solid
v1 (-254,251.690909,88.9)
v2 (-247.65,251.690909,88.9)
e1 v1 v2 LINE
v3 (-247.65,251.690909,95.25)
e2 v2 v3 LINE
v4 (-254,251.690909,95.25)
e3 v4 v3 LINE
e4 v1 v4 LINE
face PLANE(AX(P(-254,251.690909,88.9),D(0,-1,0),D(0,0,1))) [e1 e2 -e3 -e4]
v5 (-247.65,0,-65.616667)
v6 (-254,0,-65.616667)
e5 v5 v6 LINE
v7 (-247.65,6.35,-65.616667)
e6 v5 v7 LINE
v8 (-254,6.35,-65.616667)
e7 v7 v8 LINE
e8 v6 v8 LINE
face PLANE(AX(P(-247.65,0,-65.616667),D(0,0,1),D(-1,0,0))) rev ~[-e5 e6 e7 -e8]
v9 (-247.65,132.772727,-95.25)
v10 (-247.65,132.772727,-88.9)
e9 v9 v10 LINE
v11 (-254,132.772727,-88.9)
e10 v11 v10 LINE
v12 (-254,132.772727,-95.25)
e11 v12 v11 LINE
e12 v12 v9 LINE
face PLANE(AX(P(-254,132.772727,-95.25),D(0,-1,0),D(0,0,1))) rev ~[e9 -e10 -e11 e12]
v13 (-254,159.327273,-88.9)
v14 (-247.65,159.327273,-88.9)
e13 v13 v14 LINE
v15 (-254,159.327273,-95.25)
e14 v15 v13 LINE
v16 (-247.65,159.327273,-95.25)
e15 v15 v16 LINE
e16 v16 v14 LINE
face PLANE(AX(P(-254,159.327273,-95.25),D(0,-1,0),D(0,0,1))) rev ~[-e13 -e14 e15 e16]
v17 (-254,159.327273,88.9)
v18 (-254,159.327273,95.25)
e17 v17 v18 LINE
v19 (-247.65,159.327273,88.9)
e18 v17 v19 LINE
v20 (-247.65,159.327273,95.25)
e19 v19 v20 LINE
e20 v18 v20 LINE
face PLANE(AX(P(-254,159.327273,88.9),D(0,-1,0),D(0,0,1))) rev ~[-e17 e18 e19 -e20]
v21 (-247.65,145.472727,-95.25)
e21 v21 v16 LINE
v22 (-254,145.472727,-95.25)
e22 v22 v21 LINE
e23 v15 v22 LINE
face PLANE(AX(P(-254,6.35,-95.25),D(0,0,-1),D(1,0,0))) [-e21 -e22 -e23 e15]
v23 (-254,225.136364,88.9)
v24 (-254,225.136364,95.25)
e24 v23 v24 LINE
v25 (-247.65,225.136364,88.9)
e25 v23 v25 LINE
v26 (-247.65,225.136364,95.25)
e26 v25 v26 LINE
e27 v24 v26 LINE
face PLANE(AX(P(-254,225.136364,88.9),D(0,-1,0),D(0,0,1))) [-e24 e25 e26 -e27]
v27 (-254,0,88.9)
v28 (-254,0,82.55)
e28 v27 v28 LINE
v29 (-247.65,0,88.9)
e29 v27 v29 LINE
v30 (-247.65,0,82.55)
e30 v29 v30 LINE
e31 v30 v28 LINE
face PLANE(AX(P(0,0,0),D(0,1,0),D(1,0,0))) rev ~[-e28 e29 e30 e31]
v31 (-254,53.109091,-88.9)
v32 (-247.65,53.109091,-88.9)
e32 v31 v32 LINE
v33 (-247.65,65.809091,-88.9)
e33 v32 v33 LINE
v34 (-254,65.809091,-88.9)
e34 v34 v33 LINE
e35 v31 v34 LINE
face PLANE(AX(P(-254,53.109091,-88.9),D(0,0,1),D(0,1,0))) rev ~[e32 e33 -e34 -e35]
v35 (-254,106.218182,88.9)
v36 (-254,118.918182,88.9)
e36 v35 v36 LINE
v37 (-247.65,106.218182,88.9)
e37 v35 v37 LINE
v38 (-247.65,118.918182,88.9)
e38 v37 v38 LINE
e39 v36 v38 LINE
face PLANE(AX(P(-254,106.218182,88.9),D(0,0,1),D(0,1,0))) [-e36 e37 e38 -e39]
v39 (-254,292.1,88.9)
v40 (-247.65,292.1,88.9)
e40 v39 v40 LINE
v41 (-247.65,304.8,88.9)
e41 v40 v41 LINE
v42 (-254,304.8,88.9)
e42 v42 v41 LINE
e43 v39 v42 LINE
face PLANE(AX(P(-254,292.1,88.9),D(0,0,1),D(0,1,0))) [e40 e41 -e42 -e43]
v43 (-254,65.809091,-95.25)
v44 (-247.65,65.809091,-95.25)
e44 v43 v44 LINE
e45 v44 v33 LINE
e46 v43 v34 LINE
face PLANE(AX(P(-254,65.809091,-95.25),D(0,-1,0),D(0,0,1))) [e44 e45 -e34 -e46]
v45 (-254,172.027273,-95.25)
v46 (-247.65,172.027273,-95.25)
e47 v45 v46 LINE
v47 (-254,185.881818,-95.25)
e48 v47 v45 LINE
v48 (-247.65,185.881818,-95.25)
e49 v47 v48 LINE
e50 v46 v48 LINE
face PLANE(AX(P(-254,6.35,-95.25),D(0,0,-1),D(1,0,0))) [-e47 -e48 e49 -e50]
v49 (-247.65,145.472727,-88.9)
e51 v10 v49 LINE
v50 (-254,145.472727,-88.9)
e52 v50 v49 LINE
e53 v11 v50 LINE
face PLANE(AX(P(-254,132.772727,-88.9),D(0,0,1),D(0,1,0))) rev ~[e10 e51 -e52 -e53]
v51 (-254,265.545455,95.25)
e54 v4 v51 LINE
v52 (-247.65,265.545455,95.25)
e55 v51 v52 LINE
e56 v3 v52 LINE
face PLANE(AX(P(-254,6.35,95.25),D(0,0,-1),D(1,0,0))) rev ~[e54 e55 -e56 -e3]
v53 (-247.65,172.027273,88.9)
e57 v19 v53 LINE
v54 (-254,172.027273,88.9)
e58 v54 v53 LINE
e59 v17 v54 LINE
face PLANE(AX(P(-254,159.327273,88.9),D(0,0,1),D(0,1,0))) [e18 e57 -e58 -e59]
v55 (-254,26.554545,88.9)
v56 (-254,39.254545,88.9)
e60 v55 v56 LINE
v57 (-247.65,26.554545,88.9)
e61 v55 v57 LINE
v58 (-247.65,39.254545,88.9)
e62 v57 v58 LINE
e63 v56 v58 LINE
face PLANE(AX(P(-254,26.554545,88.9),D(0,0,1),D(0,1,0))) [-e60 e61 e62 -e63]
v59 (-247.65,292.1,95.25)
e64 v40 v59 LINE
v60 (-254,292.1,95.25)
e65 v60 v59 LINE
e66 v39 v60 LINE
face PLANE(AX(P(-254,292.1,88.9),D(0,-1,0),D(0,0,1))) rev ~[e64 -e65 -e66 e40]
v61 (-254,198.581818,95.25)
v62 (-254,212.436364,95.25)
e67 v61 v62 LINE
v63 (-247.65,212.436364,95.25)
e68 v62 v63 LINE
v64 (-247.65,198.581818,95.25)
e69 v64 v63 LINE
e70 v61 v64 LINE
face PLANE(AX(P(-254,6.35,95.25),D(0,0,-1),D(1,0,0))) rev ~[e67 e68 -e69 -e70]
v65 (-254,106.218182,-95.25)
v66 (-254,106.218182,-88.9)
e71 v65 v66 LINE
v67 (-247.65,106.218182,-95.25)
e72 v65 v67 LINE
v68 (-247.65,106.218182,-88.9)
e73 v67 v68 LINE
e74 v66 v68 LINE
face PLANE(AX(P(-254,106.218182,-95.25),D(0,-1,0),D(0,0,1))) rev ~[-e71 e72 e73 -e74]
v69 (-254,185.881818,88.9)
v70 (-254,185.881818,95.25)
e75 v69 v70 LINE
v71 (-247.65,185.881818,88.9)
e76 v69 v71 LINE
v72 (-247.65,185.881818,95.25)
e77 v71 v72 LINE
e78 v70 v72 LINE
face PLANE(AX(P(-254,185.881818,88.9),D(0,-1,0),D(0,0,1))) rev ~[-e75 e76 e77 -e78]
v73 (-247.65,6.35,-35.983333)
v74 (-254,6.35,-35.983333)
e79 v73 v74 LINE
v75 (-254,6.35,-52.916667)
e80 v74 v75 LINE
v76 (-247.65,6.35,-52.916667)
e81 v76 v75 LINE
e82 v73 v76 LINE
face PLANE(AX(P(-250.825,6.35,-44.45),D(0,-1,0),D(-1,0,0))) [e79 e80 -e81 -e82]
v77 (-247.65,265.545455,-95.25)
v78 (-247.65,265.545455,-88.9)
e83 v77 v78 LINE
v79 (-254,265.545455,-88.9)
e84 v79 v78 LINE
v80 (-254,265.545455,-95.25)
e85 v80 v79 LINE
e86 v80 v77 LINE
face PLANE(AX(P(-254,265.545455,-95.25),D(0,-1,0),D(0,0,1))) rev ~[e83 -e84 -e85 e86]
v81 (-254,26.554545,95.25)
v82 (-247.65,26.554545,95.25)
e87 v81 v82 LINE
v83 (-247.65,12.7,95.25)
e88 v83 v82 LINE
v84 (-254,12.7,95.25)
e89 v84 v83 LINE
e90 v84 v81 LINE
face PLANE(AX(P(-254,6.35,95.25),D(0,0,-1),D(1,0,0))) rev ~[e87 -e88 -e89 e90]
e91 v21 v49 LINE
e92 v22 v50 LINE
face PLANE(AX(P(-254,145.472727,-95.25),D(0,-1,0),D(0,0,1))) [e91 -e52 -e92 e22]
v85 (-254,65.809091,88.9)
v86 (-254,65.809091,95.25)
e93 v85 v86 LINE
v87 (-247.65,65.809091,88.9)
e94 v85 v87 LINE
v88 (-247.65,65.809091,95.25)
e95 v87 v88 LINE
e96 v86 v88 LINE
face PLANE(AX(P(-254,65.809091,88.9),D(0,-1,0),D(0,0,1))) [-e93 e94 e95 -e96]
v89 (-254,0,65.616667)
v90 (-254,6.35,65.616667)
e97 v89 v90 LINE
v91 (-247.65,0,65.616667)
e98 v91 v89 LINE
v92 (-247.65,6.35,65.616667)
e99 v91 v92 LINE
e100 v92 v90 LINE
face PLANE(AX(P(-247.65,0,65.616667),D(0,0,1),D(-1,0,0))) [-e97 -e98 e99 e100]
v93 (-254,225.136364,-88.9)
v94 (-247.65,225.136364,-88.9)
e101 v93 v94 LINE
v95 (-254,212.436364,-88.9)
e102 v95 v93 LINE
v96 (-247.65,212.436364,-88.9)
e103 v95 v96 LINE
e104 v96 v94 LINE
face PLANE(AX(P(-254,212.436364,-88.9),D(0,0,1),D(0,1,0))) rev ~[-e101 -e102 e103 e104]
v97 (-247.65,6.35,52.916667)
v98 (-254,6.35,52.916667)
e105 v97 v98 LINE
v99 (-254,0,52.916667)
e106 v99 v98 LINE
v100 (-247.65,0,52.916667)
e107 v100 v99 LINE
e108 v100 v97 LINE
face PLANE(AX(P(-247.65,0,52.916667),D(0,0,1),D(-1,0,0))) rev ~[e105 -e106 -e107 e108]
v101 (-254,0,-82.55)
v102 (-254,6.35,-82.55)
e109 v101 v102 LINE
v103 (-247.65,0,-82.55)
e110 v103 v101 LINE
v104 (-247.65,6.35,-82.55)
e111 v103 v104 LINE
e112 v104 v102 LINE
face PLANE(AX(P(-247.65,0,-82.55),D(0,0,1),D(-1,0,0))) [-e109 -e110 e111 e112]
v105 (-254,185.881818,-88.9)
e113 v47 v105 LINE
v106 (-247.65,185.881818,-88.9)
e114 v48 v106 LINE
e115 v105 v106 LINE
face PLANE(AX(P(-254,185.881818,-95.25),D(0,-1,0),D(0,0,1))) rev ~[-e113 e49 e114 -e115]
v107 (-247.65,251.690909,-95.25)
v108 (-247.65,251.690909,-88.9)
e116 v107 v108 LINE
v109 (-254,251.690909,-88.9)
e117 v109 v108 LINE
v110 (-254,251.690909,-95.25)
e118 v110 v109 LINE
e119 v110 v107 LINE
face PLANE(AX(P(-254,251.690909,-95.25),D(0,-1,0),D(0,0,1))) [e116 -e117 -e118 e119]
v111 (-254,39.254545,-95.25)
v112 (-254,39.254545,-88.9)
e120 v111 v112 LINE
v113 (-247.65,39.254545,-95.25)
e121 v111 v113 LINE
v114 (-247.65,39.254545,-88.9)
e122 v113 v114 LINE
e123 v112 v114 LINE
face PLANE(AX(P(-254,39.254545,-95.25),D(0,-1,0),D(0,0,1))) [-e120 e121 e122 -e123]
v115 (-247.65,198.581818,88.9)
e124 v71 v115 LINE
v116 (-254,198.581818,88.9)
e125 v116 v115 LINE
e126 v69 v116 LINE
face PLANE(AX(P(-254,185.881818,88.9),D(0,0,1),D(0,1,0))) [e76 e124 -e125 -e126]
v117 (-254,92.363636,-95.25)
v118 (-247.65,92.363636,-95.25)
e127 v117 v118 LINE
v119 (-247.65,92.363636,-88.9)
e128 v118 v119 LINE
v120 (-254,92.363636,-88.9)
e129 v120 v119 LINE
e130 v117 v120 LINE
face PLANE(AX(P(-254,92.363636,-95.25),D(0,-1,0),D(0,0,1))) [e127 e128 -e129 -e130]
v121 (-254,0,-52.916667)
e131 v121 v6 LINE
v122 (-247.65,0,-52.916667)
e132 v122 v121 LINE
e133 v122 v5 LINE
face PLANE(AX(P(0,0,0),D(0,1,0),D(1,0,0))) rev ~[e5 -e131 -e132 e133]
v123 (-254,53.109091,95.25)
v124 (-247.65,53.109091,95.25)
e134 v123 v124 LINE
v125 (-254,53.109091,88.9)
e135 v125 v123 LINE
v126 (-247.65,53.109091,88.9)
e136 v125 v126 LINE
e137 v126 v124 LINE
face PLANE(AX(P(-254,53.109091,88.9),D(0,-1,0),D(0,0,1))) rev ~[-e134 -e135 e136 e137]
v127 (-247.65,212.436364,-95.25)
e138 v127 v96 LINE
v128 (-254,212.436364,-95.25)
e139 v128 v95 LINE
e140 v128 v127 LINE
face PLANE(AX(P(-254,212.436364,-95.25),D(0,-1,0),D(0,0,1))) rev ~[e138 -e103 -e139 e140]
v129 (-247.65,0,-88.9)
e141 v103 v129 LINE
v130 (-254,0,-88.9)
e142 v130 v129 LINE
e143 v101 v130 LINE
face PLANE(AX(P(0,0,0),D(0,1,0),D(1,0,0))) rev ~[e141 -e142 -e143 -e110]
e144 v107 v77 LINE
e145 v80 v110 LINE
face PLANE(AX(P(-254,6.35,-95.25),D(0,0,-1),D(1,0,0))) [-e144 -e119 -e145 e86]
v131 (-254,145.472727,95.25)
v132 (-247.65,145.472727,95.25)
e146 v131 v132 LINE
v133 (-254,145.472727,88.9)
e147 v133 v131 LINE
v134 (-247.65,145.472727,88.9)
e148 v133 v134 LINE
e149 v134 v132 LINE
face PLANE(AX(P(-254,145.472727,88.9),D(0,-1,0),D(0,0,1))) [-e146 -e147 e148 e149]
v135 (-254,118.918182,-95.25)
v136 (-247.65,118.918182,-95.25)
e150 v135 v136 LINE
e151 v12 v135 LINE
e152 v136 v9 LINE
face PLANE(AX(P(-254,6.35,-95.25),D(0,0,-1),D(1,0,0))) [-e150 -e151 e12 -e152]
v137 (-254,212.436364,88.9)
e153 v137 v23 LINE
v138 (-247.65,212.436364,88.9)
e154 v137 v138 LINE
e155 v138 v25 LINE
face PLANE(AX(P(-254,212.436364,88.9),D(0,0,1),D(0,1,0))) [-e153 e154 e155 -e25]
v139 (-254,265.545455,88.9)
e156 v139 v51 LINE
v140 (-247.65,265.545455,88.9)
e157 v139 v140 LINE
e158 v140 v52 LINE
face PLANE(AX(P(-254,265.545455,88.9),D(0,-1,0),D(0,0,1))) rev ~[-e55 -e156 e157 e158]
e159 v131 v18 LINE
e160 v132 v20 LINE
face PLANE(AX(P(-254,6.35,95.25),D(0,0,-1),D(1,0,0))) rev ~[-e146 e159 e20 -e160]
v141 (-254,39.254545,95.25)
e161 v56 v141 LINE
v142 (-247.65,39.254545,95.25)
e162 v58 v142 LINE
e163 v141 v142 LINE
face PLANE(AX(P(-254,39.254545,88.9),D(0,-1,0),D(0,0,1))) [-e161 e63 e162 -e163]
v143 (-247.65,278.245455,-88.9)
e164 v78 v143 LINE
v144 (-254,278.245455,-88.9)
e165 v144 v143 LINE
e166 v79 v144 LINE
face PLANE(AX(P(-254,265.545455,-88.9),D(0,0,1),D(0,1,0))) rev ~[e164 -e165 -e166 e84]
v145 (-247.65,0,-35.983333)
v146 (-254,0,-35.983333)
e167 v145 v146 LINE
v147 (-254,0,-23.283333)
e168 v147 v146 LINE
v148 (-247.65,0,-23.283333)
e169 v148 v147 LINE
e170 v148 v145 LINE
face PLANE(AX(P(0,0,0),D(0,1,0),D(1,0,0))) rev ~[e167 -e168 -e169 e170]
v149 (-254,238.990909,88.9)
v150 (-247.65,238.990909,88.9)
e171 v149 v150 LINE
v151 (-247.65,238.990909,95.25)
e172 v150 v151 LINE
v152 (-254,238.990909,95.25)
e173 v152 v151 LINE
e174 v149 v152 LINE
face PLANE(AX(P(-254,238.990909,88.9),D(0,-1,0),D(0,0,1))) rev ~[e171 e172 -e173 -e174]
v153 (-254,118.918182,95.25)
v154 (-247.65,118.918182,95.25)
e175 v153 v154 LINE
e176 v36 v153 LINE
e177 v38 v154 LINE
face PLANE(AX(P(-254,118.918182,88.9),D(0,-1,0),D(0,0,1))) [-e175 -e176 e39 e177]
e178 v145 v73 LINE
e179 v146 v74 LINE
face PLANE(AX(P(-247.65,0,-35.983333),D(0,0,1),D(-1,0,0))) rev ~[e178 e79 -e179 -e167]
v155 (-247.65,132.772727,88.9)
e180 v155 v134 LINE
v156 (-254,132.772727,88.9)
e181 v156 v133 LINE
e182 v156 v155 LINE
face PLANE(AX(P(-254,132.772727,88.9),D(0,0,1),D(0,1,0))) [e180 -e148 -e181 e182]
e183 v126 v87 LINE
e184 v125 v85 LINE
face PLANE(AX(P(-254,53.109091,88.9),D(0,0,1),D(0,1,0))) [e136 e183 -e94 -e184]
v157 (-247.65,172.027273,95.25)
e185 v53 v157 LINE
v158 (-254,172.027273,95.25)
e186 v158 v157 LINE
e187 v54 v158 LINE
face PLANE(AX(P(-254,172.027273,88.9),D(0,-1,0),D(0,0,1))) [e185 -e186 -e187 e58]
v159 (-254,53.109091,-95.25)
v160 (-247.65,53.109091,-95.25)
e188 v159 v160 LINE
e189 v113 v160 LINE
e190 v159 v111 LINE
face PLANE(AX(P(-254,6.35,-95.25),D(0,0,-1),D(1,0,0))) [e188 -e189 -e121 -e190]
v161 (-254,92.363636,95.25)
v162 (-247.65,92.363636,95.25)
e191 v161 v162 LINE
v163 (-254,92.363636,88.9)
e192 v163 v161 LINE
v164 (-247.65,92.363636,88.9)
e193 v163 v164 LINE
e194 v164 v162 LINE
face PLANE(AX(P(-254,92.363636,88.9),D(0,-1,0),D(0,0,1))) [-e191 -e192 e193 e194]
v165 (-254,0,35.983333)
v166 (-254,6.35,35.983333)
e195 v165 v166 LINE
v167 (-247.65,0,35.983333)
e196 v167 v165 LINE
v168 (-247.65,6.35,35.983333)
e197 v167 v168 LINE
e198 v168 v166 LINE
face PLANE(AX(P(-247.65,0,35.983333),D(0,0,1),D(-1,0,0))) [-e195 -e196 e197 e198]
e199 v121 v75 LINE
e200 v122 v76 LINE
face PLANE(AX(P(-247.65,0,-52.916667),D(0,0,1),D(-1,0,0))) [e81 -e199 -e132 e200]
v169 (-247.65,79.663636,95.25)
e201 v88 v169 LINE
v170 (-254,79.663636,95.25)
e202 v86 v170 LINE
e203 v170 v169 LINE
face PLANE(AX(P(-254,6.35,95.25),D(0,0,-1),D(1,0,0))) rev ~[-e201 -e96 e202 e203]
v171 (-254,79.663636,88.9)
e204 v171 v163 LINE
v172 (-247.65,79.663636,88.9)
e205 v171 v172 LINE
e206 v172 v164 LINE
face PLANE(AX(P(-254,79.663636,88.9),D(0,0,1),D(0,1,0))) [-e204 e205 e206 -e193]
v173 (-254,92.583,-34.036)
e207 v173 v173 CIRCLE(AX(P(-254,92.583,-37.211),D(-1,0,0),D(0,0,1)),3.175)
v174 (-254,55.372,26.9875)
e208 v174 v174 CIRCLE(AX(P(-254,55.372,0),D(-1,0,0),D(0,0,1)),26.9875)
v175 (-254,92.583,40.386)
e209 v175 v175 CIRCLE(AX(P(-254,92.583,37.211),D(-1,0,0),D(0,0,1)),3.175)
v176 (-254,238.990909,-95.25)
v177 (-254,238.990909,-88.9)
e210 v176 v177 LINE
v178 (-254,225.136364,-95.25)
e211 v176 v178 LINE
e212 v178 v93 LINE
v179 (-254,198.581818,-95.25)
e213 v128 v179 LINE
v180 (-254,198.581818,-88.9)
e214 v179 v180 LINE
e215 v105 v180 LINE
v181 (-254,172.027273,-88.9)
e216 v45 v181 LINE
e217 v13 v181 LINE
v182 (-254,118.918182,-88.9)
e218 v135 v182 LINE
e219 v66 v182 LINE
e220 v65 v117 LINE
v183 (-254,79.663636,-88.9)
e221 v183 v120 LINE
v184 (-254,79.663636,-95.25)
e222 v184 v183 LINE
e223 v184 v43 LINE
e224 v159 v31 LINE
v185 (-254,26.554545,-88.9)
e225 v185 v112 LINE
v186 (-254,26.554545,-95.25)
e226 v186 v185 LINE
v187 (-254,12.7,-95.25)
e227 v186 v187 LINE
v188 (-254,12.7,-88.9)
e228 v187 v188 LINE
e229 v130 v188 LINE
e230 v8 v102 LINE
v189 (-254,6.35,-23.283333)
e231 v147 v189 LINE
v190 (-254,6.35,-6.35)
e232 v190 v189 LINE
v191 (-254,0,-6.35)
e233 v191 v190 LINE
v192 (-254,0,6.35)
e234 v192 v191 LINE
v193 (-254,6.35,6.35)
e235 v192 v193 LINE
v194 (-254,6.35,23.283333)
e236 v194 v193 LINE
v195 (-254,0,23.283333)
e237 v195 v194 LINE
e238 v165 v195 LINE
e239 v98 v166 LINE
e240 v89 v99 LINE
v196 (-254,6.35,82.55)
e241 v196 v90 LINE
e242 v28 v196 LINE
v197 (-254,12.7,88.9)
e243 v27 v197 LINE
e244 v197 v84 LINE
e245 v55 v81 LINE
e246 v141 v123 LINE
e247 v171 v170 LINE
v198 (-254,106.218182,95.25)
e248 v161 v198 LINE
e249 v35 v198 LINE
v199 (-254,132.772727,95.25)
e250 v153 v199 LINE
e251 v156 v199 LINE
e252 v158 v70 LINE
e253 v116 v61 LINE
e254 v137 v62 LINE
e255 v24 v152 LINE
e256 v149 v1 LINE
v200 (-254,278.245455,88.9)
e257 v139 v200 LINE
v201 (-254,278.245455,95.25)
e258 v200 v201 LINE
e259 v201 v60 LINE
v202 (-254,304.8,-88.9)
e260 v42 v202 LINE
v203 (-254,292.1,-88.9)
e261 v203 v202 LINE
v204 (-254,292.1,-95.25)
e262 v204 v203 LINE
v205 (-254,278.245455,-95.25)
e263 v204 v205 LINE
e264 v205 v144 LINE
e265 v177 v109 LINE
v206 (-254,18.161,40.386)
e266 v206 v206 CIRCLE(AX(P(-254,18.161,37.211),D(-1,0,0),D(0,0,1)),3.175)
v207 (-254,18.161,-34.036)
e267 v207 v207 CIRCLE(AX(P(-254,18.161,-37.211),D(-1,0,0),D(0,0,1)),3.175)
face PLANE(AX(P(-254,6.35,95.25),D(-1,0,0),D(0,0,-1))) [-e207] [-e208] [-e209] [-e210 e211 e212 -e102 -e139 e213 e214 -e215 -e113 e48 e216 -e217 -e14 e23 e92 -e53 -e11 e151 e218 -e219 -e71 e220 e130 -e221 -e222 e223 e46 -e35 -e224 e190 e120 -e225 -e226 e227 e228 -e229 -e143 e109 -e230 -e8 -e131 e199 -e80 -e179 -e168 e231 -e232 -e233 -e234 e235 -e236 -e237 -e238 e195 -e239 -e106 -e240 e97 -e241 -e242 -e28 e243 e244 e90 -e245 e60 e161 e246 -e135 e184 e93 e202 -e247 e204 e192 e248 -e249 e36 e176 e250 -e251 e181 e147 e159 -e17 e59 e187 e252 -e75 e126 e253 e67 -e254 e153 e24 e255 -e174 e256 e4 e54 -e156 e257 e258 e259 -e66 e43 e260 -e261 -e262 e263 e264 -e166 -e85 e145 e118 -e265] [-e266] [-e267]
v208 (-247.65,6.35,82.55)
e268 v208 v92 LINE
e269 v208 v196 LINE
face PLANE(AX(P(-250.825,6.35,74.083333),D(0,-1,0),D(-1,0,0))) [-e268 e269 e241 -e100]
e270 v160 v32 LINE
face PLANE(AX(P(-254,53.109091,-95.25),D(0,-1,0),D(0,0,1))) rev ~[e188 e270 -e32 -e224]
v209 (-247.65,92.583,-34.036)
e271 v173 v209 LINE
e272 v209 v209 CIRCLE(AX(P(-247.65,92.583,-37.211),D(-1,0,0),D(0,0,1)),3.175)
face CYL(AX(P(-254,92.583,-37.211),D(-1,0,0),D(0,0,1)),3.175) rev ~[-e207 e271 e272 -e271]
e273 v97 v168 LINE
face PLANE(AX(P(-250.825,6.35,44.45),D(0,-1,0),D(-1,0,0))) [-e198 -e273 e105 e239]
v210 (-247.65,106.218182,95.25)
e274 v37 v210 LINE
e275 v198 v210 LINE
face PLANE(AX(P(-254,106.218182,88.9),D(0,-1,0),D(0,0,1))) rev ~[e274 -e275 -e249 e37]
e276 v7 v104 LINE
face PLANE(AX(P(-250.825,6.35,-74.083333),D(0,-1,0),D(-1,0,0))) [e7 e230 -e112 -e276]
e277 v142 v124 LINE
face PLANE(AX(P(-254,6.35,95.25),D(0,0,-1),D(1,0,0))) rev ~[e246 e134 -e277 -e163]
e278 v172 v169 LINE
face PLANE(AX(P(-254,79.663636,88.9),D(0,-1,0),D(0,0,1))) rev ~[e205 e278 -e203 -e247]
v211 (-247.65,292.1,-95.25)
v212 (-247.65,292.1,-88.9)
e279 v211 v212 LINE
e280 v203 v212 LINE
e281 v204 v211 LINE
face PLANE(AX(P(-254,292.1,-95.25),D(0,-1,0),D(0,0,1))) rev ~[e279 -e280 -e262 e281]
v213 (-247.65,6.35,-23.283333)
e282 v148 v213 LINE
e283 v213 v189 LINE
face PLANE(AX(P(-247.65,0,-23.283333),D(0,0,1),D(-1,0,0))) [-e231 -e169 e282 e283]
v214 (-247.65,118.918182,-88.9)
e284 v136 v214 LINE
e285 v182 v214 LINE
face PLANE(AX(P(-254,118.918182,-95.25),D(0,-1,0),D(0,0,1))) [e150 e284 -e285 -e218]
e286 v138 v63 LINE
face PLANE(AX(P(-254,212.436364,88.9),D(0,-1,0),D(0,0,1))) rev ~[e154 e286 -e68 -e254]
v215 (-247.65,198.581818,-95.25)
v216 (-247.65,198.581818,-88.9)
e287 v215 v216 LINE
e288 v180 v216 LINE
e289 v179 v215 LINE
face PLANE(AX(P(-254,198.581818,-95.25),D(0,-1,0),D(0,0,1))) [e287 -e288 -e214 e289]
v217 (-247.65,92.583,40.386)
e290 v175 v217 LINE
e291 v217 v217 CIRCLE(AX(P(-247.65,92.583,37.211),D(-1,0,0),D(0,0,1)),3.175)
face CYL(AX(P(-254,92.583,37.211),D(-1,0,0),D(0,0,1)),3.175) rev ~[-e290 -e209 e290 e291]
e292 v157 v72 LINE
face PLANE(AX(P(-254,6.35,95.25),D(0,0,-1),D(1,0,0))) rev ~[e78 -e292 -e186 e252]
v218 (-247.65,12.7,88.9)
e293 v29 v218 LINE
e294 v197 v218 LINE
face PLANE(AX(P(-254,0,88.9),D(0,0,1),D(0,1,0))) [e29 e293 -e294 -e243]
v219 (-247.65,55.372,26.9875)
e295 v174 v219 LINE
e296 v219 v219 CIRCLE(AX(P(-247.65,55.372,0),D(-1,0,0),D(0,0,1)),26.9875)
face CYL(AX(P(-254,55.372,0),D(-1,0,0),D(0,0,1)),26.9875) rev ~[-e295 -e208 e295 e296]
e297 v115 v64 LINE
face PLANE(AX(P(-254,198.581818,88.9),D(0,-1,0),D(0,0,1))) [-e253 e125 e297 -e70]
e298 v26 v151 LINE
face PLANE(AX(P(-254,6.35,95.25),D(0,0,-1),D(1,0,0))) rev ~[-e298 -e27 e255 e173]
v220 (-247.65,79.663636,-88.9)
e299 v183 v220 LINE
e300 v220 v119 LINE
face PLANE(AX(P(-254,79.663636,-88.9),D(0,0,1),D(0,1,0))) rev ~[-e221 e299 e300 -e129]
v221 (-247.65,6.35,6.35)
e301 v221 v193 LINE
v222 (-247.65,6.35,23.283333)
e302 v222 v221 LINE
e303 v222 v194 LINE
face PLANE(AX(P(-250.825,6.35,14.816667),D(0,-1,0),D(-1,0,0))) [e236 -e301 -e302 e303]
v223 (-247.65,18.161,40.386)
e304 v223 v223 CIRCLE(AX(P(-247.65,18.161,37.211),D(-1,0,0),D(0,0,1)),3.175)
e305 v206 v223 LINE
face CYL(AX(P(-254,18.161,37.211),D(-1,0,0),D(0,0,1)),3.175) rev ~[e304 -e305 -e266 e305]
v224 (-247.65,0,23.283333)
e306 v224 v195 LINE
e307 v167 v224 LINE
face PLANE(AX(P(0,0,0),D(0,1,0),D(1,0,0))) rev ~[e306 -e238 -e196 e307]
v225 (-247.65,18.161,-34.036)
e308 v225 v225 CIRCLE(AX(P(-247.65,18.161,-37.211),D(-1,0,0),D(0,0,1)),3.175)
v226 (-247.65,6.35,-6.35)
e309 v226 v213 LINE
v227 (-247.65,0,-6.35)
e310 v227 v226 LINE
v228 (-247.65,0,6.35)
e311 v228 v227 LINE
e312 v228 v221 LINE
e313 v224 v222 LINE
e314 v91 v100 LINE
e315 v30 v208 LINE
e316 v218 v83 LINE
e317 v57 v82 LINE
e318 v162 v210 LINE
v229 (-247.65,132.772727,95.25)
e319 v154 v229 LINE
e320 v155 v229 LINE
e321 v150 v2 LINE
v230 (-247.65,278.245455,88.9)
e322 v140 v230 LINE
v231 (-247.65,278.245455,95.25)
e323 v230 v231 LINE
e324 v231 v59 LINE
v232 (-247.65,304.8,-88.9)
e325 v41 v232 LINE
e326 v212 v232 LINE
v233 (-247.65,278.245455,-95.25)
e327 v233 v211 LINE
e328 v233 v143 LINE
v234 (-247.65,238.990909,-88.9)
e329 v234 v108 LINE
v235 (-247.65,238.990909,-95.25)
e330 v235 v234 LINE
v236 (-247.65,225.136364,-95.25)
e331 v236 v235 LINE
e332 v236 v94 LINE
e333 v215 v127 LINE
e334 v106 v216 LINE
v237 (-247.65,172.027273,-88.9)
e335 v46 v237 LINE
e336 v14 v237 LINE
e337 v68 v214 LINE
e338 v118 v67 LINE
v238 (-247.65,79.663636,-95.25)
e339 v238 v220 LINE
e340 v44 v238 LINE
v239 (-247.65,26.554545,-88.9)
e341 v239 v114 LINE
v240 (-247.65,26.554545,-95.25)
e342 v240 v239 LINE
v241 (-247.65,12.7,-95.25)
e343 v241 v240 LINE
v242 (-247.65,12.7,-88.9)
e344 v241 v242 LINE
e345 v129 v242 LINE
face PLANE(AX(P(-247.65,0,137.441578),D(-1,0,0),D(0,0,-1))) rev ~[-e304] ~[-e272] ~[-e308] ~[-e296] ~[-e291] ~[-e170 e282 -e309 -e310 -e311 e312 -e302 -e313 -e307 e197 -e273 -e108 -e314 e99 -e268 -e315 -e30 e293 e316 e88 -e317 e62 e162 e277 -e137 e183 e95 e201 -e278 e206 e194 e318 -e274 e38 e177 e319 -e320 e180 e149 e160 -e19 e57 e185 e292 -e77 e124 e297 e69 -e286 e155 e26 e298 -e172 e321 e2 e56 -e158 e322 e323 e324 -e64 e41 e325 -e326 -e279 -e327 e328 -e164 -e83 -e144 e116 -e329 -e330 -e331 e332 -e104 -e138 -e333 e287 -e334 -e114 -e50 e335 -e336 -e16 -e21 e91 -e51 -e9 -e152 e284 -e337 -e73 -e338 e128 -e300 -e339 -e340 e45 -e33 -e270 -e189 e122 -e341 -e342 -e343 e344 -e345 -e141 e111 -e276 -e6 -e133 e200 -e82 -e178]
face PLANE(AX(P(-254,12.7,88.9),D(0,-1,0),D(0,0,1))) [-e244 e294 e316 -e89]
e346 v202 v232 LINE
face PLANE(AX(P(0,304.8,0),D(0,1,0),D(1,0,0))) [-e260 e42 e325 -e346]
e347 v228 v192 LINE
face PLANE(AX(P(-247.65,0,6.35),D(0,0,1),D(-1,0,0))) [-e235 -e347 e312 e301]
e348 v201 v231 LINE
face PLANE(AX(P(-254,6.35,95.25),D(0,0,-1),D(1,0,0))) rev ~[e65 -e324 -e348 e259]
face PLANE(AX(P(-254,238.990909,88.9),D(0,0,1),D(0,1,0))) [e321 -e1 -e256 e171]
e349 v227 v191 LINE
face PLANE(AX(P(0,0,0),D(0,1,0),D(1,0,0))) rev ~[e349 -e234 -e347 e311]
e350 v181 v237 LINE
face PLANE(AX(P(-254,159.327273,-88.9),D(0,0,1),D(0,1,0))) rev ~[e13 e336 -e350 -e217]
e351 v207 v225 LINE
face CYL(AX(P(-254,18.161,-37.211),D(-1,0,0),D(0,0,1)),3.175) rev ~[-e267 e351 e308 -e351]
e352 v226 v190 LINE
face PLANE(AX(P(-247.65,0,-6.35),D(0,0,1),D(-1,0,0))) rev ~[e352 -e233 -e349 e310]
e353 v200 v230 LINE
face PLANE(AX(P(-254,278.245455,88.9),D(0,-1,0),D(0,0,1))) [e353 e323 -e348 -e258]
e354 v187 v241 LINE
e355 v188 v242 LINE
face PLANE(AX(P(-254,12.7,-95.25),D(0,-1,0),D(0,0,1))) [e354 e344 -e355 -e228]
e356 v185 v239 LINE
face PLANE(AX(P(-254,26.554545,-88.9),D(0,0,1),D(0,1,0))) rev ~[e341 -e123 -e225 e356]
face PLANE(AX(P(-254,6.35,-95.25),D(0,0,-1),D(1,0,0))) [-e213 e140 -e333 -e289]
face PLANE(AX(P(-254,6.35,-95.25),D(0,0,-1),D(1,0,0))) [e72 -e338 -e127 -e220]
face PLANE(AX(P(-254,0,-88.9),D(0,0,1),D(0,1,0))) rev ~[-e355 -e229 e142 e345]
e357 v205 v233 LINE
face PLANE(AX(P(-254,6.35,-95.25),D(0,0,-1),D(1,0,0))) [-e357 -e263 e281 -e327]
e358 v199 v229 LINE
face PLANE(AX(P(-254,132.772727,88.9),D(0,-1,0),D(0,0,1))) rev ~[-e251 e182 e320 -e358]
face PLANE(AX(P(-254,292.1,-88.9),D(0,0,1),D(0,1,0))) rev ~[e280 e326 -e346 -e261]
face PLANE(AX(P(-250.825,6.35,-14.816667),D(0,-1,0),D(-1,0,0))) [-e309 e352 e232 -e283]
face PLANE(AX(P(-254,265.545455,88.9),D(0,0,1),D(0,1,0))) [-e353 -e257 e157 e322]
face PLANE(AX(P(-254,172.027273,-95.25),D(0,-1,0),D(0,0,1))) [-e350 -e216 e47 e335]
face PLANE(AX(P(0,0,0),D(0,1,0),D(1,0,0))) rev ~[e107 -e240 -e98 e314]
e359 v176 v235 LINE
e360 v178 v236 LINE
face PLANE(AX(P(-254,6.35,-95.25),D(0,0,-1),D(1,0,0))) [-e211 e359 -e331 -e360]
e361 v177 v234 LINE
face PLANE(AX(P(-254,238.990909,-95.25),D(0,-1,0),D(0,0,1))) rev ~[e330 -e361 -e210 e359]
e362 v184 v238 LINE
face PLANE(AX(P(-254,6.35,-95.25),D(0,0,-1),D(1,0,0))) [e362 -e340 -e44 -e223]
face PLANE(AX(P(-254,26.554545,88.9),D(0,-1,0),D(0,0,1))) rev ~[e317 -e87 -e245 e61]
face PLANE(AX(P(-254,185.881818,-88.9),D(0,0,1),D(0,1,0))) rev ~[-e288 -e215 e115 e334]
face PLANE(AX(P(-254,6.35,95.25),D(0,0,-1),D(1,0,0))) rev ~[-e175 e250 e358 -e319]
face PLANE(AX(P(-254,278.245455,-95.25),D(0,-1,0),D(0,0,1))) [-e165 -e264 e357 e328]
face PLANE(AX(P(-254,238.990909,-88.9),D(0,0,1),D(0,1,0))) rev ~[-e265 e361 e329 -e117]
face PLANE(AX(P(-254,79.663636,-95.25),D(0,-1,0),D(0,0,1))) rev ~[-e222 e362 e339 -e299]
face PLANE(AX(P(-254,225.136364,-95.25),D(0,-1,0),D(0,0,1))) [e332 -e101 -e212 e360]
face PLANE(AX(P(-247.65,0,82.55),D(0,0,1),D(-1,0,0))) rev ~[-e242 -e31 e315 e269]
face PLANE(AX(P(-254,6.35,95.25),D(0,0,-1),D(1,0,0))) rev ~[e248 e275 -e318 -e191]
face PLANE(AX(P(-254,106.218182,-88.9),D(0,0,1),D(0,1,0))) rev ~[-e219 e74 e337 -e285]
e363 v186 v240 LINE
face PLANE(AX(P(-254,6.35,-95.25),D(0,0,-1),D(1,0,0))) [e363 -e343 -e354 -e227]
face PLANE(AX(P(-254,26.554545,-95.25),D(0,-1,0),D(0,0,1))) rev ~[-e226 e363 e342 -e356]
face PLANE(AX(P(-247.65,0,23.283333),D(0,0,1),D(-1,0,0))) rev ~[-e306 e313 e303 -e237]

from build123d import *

# Parameters (mm, degrees)
SKETCH1_W           = 508
SKETCH1_H           = 190.5
BOSS_EXTRUDE1_DEPTH = 6.35
SKETCH2_W           = 508
SKETCH2_H           = 190.5
SKETCH2_W_2         = 495.3
SKETCH2_H_2         = 177.8
BOSS_EXTRUDE2_DEPTH = 298.45
SKETCH3_W           = 6.35
SKETCH3_H           = 16.933333333
SKETCH3_H_2         = 16.933333334
CUT_EXTRUDE1_DEPTH  = 12.7
SKETCH4_W           = 6.35
SKETCH4_H           = 15.875
CUT_EXTRUDE2_DEPTH  = 6.35
SKETCH6_W           = 514.801062296
SKETCH6_H           = 254.881465808
CUT_EXTRUDE5_DEPTH  = 305.8
SKETCH5_W           = 6.35
SKETCH5_H           = 16.933333333
SKETCH5_H_2         = 16.933333334
CUT_EXTRUDE6_DEPTH  = 6.35
SKETCH7_W           = 6.35
SKETCH7_H           = 12.7
CUT_EXTRUDE7_DEPTH  = 7.35
SKETCH8_R           = 26.9875
SKETCH8_R_2         = 3.175
CUT_EXTRUDE8_DEPTH  = 7.35


with BuildPart() as part:
    # Sketch1 → Boss-Extrude1 (new body)
    with BuildSketch(Plane(origin=(0, 0, 0), x_dir=(1, 0, 0), z_dir=(0, 1, 0))):
        Rectangle(SKETCH1_W, SKETCH1_H)
    extrude(amount=BOSS_EXTRUDE1_DEPTH)

    # Sketch2 → Boss-Extrude2 (add)
    with BuildSketch(Plane(origin=(0, 6.35, 0), x_dir=(1, 0, 0), z_dir=(0, 1, 0))):
        Rectangle(SKETCH2_W, SKETCH2_H)
        Rectangle(SKETCH2_W_2, SKETCH2_H_2, mode=Mode.SUBTRACT)
    extrude(amount=BOSS_EXTRUDE2_DEPTH)

    # Sketch3 → Cut-Extrude1 (cut)
    with BuildSketch(Plane.XY.offset(95.25)):
        with BuildLine():
            Line((-3.302, 283.21), (-3.302, 6.35))
            Line((-3.302, 6.35), (3.302, 6.35))
            Line((3.302, 6.35), (3.302, 292.354))
            Line((3.302, 292.354), (-16.256, 292.354))
            Line((-16.256, 292.354), (-16.256, 285.75))
            Line((-16.256, 285.75), (-5.842, 285.75))
            ThreePointArc((-5.842, 285.75), (-4.045948776, 285.006051224), (-3.302, 283.21))
        make_face()
        with Locations((12.827, 80.433333334)):
            Rectangle(SKETCH3_W, SKETCH3_H)
        with Locations((12.827, 50.8)):
            Rectangle(SKETCH3_W, SKETCH3_H_2)
        with Locations((12.827, 21.166666667)):
            Rectangle(SKETCH3_W, SKETCH3_H)
    extrude(amount=-CUT_EXTRUDE1_DEPTH, mode=Mode.SUBTRACT)

    # Sketch4 → Cut-Extrude2 (cut)
    with BuildSketch(Plane.XY.offset(-88.9)):
        with Locations((-19.431, 284.1625)):
            Rectangle(SKETCH4_W, SKETCH4_H)
        with Locations((-19.431, 255.5875)):
            Rectangle(SKETCH4_W, SKETCH4_H)
        with Locations((-19.431, 227.0125)):
            Rectangle(SKETCH4_W, SKETCH4_H)
        with Locations((-19.431, 198.4375)):
            Rectangle(SKETCH4_W, SKETCH4_H)
        with Locations((-19.431, 169.8625)):
            Rectangle(SKETCH4_W, SKETCH4_H)
        with Locations((-19.431, 141.2875)):
            Rectangle(SKETCH4_W, SKETCH4_H)
        with Locations((-19.431, 112.7125)):
            Rectangle(SKETCH4_W, SKETCH4_H)
        with Locations((-19.431, 84.1375)):
            Rectangle(SKETCH4_W, SKETCH4_H)
        with Locations((-19.431, 55.5625)):
            Rectangle(SKETCH4_W, SKETCH4_H)
        with Locations((-19.431, 26.9875)):
            Rectangle(SKETCH4_W, SKETCH4_H)
    cut_extrude2 = extrude(amount=-CUT_EXTRUDE2_DEPTH, mode=Mode.SUBTRACT)

    # Mirror1: Cut-Extrude2 across plane
    add(cut_extrude2.mirror(Plane.ZY.offset(6.477)), mode=Mode.SUBTRACT)

    # Sketch6 → Cut-Extrude5 (cut, through all)
    with BuildSketch(Plane(origin=(0, 0, 0), x_dir=(1, 0, 0), z_dir=(0, 1, 0))):
        with Locations((9.750531148, -10.000845247)):
            Rectangle(SKETCH6_W, SKETCH6_H)
    extrude(amount=CUT_EXTRUDE5_DEPTH, mode=Mode.SUBTRACT)

    # Sketch5 → Cut-Extrude6 (cut)
    with BuildSketch(Plane(origin=(0, 0, 0), x_dir=(-1, 0, 0), z_dir=(0, -1, 0))):
        with Locations((250.825, -74.083333334)):
            Rectangle(SKETCH5_W, SKETCH5_H)
        with Locations((250.825, -44.45)):
            Rectangle(SKETCH5_W, SKETCH5_H_2)
        with Locations((250.825, -14.816666667)):
            Rectangle(SKETCH5_W, SKETCH5_H)
        with Locations((250.825, 14.816666667)):
            Rectangle(SKETCH5_W, SKETCH5_H)
        with Locations((250.825, 44.45)):
            Rectangle(SKETCH5_W, SKETCH5_H_2)
        with Locations((250.825, 74.083333334)):
            Rectangle(SKETCH5_W, SKETCH5_H)
    extrude(amount=-CUT_EXTRUDE6_DEPTH, mode=Mode.SUBTRACT)

    # Sketch7 → Cut-Extrude7 (cut, through all)
    with BuildSketch(Plane.ZY.offset(254)):
        with Locations((-92.075, 32.904545455)):
            Rectangle(SKETCH7_W, SKETCH7_H)
        with Locations((-92.075, 6.35)):
            Rectangle(SKETCH7_W, SKETCH7_H)
        with Locations((-92.075, 59.459090909)):
            Rectangle(SKETCH7_W, SKETCH7_H)
        with Locations((-92.075, 86.013636364)):
            Rectangle(SKETCH7_W, SKETCH7_H)
        with Locations((-92.075, 112.568181818)):
            Rectangle(SKETCH7_W, SKETCH7_H)
        with Locations((-92.075, 139.122727273)):
            Rectangle(SKETCH7_W, SKETCH7_H)
        with Locations((-92.075, 165.677272727)):
            Rectangle(SKETCH7_W, SKETCH7_H)
        with Locations((-92.075, 192.231818182)):
            Rectangle(SKETCH7_W, SKETCH7_H)
        with Locations((-92.075, 218.786363636)):
            Rectangle(SKETCH7_W, SKETCH7_H)
        with Locations((-92.075, 245.340909091)):
            Rectangle(SKETCH7_W, SKETCH7_H)
        with Locations((-92.075, 271.895454545)):
            Rectangle(SKETCH7_W, SKETCH7_H)
        with Locations((-92.075, 298.45)):
            Rectangle(SKETCH7_W, SKETCH7_H)
        with Locations((92.075, 298.45)):
            Rectangle(SKETCH7_W, SKETCH7_H)
        with Locations((92.075, 271.895454545)):
            Rectangle(SKETCH7_W, SKETCH7_H)
        with Locations((92.075, 245.340909091)):
            Rectangle(SKETCH7_W, SKETCH7_H)
        with Locations((92.075, 218.786363636)):
            Rectangle(SKETCH7_W, SKETCH7_H)
        with Locations((92.075, 192.231818182)):
            Rectangle(SKETCH7_W, SKETCH7_H)
        with Locations((92.075, 165.677272727)):
            Rectangle(SKETCH7_W, SKETCH7_H)
        with Locations((92.075, 139.122727273)):
            Rectangle(SKETCH7_W, SKETCH7_H)
        with Locations((92.075, 112.568181818)):
            Rectangle(SKETCH7_W, SKETCH7_H)
        with Locations((92.075, 86.013636364)):
            Rectangle(SKETCH7_W, SKETCH7_H)
        with Locations((92.075, 59.459090909)):
            Rectangle(SKETCH7_W, SKETCH7_H)
        with Locations((92.075, 32.904545455)):
            Rectangle(SKETCH7_W, SKETCH7_H)
        with Locations((92.075, 6.35)):
            Rectangle(SKETCH7_W, SKETCH7_H)
    extrude(amount=-CUT_EXTRUDE7_DEPTH, mode=Mode.SUBTRACT)

    # Sketch8 → Cut-Extrude8 (cut, through all)
    with BuildSketch(Plane.ZY.offset(254)):
        with Locations((0, 55.372)):
            Circle(SKETCH8_R)
        with Locations((-37.211, 92.583)):
            Circle(SKETCH8_R_2)
        with Locations((37.211, 92.583)):
            Circle(SKETCH8_R_2)
        with Locations((37.211, 18.161)):
            Circle(SKETCH8_R_2)
        with Locations((-37.211, 18.161)):
            Circle(SKETCH8_R_2)
    extrude(amount=-CUT_EXTRUDE8_DEPTH, mode=Mode.SUBTRACT)


solid = part.part
